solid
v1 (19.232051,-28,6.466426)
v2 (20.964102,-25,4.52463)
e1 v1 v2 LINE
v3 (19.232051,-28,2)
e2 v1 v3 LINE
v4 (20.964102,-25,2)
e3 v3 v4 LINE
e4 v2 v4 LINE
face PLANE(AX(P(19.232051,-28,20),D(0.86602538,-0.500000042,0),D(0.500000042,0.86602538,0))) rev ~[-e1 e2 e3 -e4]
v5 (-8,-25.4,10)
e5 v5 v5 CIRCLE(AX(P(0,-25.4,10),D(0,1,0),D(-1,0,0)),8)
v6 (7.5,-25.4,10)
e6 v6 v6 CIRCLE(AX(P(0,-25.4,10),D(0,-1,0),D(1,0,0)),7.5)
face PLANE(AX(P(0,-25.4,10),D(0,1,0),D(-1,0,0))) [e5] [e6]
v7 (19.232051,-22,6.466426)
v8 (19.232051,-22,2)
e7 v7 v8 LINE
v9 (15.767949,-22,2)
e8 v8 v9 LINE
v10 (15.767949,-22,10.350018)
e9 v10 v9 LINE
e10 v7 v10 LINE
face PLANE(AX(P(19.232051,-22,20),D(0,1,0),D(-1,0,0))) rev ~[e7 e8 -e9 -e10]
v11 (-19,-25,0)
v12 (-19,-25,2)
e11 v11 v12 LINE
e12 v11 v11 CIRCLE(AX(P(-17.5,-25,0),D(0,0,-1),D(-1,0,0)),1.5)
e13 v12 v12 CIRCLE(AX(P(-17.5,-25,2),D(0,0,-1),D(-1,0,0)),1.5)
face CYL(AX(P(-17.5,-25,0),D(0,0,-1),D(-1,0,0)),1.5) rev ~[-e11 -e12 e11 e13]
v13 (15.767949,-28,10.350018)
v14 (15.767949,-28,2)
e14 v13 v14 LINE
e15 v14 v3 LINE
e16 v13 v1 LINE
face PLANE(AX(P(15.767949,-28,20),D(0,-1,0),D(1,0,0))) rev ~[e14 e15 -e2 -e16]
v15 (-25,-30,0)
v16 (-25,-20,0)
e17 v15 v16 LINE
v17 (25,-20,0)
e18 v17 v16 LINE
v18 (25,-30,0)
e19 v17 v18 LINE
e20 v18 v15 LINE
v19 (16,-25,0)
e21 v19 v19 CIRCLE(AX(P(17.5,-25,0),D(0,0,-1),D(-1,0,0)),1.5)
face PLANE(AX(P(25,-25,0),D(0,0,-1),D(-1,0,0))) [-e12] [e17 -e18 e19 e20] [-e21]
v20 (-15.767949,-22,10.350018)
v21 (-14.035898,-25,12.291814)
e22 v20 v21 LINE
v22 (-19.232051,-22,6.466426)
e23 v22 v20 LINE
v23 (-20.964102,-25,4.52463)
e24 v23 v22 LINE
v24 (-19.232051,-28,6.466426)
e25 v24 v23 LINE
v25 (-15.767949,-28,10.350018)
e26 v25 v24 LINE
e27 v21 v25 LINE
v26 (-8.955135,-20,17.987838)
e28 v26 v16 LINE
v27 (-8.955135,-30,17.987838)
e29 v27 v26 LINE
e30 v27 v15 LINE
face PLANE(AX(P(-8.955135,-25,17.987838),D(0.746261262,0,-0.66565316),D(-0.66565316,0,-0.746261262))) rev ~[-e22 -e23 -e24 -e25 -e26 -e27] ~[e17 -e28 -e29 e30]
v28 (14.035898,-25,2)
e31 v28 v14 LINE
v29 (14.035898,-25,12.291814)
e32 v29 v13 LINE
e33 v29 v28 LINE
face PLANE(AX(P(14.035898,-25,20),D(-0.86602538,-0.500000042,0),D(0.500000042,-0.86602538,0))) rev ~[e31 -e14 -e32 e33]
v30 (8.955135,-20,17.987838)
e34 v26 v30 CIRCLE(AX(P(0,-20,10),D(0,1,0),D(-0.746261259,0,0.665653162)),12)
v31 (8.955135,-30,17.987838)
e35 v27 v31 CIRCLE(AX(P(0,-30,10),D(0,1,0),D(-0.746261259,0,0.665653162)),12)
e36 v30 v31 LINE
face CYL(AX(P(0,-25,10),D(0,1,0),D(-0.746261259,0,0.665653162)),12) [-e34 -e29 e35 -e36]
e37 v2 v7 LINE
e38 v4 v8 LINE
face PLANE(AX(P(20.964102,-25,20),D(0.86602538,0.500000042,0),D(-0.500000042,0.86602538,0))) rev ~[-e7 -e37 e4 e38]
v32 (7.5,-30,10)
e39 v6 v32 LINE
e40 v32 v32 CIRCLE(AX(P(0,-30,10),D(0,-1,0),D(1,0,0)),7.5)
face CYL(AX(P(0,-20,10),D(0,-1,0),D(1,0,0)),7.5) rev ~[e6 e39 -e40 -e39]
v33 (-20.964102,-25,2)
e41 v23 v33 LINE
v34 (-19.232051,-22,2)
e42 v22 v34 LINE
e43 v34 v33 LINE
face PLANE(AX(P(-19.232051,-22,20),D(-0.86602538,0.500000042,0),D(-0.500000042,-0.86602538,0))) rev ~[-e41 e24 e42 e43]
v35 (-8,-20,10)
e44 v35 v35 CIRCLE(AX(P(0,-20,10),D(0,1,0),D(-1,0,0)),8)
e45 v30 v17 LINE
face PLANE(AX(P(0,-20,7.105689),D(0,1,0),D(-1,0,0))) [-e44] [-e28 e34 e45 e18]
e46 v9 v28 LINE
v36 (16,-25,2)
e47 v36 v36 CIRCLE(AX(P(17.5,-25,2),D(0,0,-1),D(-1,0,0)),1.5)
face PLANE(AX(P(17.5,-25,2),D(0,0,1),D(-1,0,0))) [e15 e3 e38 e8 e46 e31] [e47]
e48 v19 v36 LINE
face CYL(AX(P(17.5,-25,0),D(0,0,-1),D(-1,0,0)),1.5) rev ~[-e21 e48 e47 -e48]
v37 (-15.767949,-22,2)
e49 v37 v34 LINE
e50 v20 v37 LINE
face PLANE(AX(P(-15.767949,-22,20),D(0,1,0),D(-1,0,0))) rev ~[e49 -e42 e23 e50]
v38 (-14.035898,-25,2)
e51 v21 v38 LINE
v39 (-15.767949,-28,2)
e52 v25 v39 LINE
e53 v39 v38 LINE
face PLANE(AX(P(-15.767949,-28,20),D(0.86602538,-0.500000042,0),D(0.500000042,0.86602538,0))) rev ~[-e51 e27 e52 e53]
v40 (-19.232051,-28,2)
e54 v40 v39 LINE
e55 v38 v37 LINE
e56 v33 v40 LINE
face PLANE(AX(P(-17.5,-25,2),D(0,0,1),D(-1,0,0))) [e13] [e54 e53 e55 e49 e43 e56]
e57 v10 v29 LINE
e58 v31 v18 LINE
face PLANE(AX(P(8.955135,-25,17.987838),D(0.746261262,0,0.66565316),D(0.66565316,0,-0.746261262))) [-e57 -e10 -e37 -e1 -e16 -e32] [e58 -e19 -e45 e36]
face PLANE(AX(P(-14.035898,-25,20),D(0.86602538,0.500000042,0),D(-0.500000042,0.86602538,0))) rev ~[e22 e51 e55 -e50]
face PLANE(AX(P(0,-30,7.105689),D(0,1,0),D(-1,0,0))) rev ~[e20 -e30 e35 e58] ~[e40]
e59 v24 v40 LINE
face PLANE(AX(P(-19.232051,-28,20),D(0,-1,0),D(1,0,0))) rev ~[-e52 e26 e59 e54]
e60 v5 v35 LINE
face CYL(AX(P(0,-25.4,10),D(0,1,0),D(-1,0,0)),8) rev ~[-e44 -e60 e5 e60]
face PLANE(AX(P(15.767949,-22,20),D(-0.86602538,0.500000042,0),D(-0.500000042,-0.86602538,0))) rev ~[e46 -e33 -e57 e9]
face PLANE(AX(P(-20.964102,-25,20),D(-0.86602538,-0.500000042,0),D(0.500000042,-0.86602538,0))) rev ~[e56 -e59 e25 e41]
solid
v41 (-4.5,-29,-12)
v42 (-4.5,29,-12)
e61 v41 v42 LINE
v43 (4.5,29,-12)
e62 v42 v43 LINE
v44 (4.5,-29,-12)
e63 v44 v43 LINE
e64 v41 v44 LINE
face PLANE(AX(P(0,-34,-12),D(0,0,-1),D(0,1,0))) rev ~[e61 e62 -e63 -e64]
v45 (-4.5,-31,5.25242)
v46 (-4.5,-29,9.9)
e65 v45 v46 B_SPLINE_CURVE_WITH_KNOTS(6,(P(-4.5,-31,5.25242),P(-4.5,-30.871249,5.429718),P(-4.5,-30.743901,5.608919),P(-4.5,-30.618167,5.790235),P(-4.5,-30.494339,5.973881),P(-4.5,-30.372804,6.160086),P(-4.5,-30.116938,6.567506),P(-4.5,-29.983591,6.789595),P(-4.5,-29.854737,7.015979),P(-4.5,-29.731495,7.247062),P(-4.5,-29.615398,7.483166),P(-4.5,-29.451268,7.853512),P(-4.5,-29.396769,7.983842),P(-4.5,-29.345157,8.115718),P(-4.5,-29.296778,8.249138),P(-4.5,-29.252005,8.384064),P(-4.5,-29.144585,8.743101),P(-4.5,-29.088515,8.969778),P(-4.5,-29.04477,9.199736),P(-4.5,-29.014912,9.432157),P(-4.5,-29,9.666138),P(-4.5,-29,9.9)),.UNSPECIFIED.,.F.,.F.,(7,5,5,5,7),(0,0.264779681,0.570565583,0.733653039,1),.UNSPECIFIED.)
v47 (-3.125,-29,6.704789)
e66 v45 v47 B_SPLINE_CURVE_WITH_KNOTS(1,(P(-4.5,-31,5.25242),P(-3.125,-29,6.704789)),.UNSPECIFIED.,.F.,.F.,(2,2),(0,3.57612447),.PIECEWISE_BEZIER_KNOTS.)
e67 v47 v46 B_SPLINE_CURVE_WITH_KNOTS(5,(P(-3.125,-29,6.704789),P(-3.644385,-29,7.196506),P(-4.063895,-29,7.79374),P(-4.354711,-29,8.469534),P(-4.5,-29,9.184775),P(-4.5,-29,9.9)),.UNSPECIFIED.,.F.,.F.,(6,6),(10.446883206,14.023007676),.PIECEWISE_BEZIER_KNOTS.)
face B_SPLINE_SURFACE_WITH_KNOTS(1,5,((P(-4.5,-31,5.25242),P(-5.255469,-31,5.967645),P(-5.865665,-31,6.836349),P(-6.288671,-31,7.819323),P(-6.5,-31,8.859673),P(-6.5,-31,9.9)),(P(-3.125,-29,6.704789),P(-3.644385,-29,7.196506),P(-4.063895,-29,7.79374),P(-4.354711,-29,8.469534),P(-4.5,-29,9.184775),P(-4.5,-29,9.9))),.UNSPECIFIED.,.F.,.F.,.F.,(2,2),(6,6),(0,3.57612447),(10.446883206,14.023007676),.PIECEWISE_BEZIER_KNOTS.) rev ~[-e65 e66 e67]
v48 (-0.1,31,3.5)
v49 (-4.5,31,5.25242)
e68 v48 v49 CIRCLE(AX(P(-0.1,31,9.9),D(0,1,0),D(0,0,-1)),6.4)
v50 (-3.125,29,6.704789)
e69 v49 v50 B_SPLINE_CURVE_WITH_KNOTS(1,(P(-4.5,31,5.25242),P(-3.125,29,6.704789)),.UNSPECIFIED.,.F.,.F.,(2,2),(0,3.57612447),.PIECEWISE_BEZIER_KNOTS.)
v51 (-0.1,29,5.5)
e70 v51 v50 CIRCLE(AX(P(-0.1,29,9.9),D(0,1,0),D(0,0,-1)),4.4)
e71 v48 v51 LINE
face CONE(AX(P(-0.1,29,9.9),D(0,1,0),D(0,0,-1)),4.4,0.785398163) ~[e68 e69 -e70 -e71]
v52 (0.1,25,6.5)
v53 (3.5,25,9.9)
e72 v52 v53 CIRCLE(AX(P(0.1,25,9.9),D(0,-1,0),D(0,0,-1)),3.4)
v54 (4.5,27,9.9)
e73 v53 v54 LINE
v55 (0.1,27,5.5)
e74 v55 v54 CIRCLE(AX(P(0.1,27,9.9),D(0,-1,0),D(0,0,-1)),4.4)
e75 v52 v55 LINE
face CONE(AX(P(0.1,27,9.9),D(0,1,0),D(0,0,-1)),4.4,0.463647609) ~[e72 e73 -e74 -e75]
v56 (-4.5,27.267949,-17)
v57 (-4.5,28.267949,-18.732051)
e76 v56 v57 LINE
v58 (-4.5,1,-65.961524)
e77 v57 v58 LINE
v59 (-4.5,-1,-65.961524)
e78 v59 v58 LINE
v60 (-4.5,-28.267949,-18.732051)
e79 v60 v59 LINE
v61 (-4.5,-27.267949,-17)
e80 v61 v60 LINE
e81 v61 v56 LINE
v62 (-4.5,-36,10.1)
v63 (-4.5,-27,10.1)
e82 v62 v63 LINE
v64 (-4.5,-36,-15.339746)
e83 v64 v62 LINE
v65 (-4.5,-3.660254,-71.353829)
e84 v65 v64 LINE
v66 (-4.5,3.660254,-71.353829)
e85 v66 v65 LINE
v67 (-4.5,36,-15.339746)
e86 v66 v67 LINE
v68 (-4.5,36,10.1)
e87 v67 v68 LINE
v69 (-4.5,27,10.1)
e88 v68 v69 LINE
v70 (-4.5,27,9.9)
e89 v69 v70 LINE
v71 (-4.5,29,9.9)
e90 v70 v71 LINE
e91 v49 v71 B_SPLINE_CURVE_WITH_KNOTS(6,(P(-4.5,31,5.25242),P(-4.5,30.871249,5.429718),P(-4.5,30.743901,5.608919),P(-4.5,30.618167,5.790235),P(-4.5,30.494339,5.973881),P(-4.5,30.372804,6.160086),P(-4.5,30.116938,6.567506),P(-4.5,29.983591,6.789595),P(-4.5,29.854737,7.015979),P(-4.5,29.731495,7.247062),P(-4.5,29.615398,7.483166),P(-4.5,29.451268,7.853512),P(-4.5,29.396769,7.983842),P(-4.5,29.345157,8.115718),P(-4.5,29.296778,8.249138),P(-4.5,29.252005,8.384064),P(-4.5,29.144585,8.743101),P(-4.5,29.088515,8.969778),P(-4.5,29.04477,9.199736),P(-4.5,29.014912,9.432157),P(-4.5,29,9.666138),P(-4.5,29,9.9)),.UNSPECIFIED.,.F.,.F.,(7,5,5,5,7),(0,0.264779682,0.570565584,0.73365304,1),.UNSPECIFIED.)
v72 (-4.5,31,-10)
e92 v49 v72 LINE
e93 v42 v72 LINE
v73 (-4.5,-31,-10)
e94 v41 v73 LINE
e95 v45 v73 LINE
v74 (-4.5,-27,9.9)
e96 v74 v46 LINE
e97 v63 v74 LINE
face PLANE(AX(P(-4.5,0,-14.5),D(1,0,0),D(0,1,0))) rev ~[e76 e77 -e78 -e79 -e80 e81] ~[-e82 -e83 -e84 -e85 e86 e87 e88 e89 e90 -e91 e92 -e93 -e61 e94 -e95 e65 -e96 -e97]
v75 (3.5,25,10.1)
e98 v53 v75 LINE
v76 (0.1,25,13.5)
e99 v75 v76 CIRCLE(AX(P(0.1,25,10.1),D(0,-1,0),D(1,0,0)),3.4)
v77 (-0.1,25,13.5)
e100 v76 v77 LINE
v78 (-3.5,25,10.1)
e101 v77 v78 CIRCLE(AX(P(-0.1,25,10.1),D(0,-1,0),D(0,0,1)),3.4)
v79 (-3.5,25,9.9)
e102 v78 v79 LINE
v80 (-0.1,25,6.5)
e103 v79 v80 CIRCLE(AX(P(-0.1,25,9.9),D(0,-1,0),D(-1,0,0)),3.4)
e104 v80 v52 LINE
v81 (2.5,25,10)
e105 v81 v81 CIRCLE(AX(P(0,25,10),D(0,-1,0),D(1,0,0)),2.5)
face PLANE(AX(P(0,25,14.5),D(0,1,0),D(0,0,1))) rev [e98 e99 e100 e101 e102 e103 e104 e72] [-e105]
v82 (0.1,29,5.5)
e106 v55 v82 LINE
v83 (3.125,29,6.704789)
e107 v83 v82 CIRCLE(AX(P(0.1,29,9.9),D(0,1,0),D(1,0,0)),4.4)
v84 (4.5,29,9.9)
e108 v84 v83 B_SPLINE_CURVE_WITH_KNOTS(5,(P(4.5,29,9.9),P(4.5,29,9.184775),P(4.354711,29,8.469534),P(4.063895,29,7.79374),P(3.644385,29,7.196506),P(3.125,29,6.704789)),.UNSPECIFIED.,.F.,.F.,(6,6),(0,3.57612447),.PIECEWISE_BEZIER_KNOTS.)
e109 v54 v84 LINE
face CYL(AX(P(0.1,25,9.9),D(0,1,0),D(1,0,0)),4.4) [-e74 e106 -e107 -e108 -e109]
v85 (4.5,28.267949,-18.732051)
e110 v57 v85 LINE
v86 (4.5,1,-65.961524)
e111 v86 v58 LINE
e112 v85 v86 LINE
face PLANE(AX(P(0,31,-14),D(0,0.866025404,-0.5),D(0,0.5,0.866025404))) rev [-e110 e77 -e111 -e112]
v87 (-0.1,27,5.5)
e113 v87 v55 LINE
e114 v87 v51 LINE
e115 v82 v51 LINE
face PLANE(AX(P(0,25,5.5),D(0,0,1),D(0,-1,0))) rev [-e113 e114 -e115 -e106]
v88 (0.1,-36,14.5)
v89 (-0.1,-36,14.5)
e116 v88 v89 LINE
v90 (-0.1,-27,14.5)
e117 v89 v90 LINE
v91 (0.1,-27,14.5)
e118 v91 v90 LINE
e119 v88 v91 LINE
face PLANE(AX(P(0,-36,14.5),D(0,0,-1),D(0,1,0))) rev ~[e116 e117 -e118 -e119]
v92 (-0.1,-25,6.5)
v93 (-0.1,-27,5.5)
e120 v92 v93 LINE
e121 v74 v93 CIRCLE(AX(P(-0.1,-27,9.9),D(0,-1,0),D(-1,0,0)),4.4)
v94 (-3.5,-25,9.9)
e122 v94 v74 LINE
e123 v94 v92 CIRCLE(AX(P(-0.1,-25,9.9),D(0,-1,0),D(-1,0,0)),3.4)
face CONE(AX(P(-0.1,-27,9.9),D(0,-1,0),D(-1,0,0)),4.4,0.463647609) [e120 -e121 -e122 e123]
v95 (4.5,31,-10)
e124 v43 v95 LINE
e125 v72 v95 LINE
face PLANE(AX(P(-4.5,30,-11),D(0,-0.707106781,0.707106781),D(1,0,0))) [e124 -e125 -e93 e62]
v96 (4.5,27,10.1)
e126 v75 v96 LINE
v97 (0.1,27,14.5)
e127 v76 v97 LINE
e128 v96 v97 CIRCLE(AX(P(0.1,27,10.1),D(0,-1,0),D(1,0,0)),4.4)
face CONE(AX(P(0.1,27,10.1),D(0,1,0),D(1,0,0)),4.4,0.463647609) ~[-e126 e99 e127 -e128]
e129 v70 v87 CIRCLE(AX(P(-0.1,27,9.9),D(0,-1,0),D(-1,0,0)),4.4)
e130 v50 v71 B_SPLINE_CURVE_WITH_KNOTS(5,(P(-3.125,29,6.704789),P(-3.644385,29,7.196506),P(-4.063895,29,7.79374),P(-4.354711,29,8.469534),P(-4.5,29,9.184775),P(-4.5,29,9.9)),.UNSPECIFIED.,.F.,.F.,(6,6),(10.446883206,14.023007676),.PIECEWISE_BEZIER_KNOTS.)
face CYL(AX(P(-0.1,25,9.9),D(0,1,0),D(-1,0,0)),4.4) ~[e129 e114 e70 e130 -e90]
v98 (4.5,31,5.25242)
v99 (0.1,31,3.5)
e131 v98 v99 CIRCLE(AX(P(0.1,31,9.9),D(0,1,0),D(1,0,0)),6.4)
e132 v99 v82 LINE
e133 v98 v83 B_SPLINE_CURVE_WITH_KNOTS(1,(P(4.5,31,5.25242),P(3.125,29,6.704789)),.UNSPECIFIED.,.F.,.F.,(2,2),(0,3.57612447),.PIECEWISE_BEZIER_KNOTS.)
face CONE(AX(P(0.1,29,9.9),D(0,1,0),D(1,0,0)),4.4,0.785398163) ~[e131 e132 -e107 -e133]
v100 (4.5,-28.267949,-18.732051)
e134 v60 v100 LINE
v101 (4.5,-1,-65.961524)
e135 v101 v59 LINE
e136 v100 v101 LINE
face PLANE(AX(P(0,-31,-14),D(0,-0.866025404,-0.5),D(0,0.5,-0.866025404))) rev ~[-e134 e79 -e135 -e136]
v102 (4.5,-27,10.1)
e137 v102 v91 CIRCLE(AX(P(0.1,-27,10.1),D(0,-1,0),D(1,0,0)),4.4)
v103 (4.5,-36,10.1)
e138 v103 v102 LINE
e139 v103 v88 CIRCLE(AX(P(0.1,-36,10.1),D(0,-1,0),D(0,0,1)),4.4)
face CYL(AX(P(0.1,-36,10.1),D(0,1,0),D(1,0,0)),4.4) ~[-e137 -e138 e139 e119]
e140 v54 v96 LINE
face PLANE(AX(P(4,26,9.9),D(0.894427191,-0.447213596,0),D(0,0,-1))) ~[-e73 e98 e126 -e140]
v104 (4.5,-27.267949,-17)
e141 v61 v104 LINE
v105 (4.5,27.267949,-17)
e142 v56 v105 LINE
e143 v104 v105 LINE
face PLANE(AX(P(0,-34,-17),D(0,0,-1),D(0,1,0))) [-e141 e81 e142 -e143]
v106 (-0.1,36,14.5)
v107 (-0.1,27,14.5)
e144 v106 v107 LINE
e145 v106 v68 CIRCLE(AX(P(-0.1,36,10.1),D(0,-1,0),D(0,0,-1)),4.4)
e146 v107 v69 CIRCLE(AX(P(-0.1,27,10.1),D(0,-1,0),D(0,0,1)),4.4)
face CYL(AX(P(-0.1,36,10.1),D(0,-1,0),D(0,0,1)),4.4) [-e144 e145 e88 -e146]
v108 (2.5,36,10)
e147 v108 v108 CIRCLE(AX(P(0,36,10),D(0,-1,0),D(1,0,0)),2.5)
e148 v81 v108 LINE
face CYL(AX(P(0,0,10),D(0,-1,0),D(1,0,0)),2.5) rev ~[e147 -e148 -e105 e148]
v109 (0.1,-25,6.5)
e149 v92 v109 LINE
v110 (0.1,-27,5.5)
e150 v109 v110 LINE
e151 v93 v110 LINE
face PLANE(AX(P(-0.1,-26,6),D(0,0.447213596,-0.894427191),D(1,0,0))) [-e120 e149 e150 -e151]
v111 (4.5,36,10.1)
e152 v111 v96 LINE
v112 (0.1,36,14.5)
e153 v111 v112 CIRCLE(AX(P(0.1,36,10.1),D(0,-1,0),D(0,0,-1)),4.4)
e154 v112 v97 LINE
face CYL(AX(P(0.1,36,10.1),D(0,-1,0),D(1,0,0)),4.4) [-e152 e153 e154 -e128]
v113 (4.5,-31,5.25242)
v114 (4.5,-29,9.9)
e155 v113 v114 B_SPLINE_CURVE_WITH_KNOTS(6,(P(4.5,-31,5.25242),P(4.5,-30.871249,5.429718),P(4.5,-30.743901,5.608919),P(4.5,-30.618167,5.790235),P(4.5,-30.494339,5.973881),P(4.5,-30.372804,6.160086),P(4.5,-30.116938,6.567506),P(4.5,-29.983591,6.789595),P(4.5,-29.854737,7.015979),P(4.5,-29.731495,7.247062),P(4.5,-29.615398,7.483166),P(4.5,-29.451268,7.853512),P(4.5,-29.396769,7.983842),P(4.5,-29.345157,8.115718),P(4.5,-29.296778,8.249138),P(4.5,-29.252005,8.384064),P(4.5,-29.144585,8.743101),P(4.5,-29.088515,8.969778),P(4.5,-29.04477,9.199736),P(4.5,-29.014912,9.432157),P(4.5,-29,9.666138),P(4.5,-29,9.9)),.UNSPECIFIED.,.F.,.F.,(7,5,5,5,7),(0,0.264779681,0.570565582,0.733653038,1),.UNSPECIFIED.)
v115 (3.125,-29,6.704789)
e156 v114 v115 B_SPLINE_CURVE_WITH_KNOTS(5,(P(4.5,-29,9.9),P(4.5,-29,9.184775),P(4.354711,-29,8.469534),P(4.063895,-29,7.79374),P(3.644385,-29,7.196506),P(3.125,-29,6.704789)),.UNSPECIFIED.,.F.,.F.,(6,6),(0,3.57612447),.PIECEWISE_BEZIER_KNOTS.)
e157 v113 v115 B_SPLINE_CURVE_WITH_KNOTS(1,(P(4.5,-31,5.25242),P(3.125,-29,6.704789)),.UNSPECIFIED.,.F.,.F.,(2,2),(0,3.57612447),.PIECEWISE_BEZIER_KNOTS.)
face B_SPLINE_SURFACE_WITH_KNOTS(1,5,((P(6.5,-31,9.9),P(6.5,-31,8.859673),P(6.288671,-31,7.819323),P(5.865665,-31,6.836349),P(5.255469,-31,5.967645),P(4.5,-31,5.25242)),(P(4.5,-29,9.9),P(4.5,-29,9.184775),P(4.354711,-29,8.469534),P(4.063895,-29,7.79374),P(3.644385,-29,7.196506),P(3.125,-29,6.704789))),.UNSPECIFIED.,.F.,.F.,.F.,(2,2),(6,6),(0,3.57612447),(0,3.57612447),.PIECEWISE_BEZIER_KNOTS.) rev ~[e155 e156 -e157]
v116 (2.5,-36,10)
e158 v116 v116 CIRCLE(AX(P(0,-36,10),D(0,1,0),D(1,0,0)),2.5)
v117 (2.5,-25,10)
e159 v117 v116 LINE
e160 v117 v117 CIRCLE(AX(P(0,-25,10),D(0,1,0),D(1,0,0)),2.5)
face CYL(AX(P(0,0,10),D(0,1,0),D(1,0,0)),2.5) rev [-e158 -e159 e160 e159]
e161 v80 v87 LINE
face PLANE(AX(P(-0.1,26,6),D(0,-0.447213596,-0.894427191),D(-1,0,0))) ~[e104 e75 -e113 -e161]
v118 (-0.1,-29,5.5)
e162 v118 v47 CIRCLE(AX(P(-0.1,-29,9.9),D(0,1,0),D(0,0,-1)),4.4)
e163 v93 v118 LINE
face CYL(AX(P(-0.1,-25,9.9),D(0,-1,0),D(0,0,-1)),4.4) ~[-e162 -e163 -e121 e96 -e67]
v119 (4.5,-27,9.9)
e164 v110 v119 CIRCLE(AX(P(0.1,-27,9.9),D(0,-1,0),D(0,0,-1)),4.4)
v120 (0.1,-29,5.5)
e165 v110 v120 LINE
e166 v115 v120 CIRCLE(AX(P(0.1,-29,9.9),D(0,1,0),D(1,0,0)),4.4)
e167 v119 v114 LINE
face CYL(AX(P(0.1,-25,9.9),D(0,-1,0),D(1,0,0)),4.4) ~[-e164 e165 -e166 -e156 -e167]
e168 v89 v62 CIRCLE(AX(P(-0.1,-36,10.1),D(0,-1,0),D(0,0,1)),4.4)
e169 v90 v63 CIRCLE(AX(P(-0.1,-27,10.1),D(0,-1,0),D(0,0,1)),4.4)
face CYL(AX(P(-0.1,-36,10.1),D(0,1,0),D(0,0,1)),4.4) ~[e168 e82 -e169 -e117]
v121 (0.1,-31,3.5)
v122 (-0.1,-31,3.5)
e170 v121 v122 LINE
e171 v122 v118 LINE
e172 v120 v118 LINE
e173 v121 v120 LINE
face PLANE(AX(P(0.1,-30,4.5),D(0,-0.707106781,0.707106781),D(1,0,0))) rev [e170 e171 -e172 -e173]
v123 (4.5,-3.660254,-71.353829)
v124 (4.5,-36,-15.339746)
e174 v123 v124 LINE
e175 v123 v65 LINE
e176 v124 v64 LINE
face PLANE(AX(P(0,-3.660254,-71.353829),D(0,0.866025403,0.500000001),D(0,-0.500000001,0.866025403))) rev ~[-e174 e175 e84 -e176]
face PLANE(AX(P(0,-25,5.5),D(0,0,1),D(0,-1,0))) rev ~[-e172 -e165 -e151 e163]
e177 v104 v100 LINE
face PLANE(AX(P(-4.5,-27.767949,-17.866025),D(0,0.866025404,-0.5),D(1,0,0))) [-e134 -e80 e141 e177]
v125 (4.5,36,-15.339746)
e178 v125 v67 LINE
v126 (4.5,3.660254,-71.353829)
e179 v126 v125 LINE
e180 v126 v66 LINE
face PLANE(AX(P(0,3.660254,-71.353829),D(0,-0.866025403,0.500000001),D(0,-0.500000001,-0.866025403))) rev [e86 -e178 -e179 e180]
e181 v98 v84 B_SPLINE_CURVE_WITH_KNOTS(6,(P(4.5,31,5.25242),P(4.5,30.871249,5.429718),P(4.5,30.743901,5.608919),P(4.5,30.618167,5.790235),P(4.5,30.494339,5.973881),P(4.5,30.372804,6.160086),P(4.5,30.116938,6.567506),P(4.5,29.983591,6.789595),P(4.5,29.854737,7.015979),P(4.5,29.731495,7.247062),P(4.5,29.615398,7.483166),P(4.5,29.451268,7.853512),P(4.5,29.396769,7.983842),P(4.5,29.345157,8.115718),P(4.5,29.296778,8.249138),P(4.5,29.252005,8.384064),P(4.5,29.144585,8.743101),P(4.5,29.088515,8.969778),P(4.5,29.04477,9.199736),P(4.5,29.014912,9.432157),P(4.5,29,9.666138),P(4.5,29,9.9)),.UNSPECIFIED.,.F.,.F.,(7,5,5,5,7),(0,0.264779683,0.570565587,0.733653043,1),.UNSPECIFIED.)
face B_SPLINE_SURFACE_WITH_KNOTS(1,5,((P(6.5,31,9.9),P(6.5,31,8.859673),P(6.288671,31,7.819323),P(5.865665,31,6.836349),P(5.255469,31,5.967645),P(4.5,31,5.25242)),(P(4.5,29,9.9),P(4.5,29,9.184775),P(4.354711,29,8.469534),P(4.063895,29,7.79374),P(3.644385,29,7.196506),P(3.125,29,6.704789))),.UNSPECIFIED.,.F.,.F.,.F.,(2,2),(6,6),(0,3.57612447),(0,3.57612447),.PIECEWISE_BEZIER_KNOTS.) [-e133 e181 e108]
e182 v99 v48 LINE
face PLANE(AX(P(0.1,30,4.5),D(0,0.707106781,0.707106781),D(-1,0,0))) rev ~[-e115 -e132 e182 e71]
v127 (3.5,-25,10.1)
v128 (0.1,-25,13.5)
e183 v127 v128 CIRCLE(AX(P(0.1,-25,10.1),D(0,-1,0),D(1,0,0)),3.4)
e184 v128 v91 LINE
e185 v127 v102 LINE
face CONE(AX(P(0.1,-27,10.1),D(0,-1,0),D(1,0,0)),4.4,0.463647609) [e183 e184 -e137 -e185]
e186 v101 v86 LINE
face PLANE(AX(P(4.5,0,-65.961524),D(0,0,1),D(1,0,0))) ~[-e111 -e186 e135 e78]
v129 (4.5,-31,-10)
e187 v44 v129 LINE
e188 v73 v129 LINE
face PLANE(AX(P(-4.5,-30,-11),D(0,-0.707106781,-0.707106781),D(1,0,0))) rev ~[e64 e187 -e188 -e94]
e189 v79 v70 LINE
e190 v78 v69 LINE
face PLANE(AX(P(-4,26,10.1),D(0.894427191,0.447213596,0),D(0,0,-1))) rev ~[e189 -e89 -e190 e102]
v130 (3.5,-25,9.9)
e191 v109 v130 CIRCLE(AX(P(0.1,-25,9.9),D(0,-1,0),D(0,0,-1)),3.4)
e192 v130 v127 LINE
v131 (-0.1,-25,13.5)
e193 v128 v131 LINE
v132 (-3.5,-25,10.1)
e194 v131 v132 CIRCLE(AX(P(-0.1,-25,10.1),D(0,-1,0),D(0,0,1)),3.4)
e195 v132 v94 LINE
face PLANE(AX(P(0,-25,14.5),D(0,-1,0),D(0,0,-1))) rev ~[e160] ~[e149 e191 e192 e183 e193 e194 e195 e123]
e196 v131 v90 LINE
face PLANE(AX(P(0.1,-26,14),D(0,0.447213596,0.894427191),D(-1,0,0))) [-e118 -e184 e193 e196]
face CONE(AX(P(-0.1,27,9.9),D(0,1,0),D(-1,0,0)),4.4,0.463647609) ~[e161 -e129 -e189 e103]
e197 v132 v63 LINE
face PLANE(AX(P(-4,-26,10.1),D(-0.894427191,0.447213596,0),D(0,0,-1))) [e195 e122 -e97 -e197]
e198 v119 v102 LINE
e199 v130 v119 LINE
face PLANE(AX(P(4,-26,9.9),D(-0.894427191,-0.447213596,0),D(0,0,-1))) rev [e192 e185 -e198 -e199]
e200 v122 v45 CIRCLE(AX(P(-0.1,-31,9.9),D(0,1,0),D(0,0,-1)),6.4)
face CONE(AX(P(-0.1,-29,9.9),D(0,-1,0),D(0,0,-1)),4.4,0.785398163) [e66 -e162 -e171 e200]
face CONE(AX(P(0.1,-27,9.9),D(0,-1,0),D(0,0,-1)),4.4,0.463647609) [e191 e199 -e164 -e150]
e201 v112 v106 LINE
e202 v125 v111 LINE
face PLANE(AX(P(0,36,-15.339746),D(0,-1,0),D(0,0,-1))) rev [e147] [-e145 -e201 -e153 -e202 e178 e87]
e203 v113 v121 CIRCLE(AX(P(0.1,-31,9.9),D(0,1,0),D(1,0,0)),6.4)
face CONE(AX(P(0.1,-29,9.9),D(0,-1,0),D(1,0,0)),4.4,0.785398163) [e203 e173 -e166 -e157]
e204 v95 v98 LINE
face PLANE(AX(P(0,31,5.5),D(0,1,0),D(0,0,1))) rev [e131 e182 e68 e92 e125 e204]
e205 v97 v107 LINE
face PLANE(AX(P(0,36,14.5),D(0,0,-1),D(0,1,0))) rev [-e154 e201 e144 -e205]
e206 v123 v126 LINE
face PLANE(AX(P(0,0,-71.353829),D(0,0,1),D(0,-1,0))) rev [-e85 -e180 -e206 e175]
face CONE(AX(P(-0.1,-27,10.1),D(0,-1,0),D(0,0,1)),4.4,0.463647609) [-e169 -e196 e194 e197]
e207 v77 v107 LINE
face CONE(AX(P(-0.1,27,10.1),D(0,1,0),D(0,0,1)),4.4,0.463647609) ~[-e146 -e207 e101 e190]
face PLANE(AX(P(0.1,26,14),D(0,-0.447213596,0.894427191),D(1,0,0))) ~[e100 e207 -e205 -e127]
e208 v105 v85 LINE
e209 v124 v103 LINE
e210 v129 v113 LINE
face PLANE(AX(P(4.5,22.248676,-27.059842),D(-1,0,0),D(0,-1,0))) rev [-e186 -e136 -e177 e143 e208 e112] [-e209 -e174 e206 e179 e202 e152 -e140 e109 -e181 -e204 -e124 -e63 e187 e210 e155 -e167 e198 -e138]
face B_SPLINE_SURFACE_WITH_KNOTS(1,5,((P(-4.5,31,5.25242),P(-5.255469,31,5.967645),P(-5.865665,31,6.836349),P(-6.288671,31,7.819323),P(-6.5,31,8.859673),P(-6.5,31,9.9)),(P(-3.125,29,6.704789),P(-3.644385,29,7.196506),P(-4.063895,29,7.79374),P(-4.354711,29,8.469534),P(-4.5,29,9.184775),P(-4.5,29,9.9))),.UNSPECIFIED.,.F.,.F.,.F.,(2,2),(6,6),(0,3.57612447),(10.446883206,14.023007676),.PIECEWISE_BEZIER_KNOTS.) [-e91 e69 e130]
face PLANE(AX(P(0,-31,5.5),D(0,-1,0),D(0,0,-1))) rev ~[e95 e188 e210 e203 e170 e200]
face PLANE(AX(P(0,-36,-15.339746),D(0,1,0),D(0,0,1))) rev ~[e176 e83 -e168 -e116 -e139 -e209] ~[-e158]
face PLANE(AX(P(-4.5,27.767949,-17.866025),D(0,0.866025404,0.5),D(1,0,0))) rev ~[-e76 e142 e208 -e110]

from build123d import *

# Parameters (mm, degrees)
PAD_DEPTH               = 5
HOLE_D                  = 15
HOLE_CBORE_D            = 16
HOLE_CBORE_DEPTH        = 5.4
SKETCH002_R             = 1.5
HOLE001_DEPTH           = 25
POCKET_DEPTH            = 18
BODY001_PLACEMENT_ANGLE = 180
PAD001_DEPTH            = 4.5
FILLET_R                = 4.4
CHAMFER_1_SIZE2         = 2
CHAMFER_1_SIZE          = 1
CHAMFER_2_SIZE2         = 2
CHAMFER_2_SIZE          = 1
CHAMFER001_SIZE         = 2
SKETCH005_W             = 68
SKETCH005_H             = 5
PAD002_DEPTH            = 4.5
SKETCH006_R             = 2.5
POCKET001_DEPTH         = 36.001
POCKET001_DEPTH_BACK    = 36.001
CHAMFER002_SIZE         = 2
CHAMFER003_SIZE         = 2
CHAMFER004_SIZE         = 2


with BuildPart() as body001:
    # Sketch → Pad (new body, symmetric)
    with BuildSketch(Plane.XZ):
        with BuildLine():
            Line((-25, 0), (25, 0))
            Line((8.955135, 17.987838), (25, 0))
            ThreePointArc((8.955135, 17.987838), (0, 22), (-8.955135, 17.987838))
            Line((-8.955135, 17.987838), (-25, 0))
        make_face()
    extrude(amount=PAD_DEPTH, both=True)

    # Hole (through all)
    with Locations(Plane.XZ.offset(5)):
        with Locations((0, 10)):
            CounterBoreHole(HOLE_D / 2, HOLE_CBORE_D / 2, HOLE_CBORE_DEPTH)

    # Sketch002 (on Face6 of Hole) → Hole001 (cut)
    with BuildSketch(Plane(origin=(0, 0, 0), x_dir=(1, 0, 0), z_dir=(0, 0, -1))):
        with Locations((-17.5, 0)):
            Circle(SKETCH002_R)
        with Locations((17.5, 0)):
            Circle(SKETCH002_R)
    extrude(amount=-HOLE001_DEPTH, mode=Mode.SUBTRACT)

    # Sketch003 → Pocket (cut)
    with BuildSketch(Plane.XY.offset(20)):
        Polygon((-15.767949, 3), (-19.232051, 3), (-20.964102, 0), (-19.232051, -3), (-15.767949, -3), (-14.035898, 0), align=None)
        Polygon((15.767949, 3), (14.035898, 0), (15.767949, -3), (19.232051, -3), (20.964102, 0), (19.232051, 3), align=None)
    extrude(amount=-POCKET_DEPTH, mode=Mode.SUBTRACT)


with BuildPart() as body001_1:
    # Body placement: moved
    add(body001.part.moved(Location((0, 25, 0))))


with BuildPart() as body001_2:
    # Clone placement: moved
    add(body001_1.part.moved(Location((0, -25, 0))))


with BuildPart() as body001_3:
    # Body001 placement: moved
    add(body001_2.part.moved(Location((0, -25, 0))).rotate(Axis((0, -25, 0), (0, 0, 1)), BODY001_PLACEMENT_ANGLE))


with BuildPart() as body002:
    # Sketch004 → Pad001 (new body, symmetric)
    with BuildSketch(Plane.YZ):
        Polygon((-31, 5.5), (-31, -14), (0, -67.693575), (0, -71.353829), (-3.660254, -71.353829), (-36, -15.339746), (-36, 14.5), (-25, 14.5), (-25, 5.5), align=None)
    pad001 = extrude(amount=PAD001_DEPTH, both=True)

    # Mirrored: Pad001 across Sketch004 V_Axis
    add(pad001.mirror(Plane(origin=(0, 0, 0), x_dir=(1, 0, 0), z_dir=(0, 1, 0))))

    # Fillet
    fillet_edges = [body002.edges().sort_by_distance(p)[0] for p in [
        (-4.5, 28, 5.5),
        (-4.5, 30.5, 14.5),
        (4.5, 28, 5.5),
        (-4.5, -28, 5.5),
        (-4.5, -30.5, 14.5),
        (4.5, -30.5, 14.5),
        (4.5, 30.5, 14.5),
        (4.5, -28, 5.5),
    ]]
    fillet(fillet_edges, radius=FILLET_R)

    # Chamfer 1
    chamfer_1_edges = [body002.edges().sort_by_distance(p)[0] for p in [
        (-3.21127, 25, 13.21127),
    ]]
    chamfer_1_side = body002.faces().sort_by_distance((0, 25, 10))[0]
    chamfer(chamfer_1_edges, length=CHAMFER_1_SIZE, length2=CHAMFER_1_SIZE2, reference=chamfer_1_side)

    # Chamfer 2
    chamfer_2_edges = [body002.edges().sort_by_distance(p)[0] for p in [
        (-3.21127, -25, 13.21127),
    ]]
    chamfer_2_side = body002.faces().sort_by_distance((0, -25, 10))[0]
    chamfer(chamfer_2_edges, length=CHAMFER_2_SIZE, length2=CHAMFER_2_SIZE2, reference=chamfer_2_side)

    # Chamfer001
    chamfer001_edges = [body002.edges().sort_by_distance(p)[0] for p in [
        (0, 0, -67.693575),
    ]]
    chamfer(chamfer001_edges, length=CHAMFER001_SIZE)

    # Sketch005 → Pad002 (join, symmetric)
    with BuildSketch(Plane.YZ):
        with Locations((0, -14.5)):
            Rectangle(SKETCH005_W, SKETCH005_H)
    extrude(amount=PAD002_DEPTH, both=True)

    # Sketch006 → Pocket001 (cut, two sides)
    with BuildSketch(Plane.XZ) as pocket001_sk:
        with Locations((0, 10)):
            Circle(SKETCH006_R)
    extrude(amount=-POCKET001_DEPTH, mode=Mode.SUBTRACT)
    extrude(pocket001_sk.sketch, amount=POCKET001_DEPTH_BACK, mode=Mode.SUBTRACT)

    # Chamfer002
    chamfer002_edges = [body002.edges().sort_by_distance(p)[0] for p in [
        (0, -29.267949, -17),
        (0, 29.267949, -17),
        (0, 31, -12),
        (0, -31, -12),
    ]]
    chamfer(chamfer002_edges, length=CHAMFER002_SIZE)

    # Chamfer003
    chamfer003_edges = [body002.edges().sort_by_distance(p)[0] for p in [
        (-3.21127, -31, 6.78873),
    ]]
    chamfer(chamfer003_edges, length=CHAMFER003_SIZE)

    # Chamfer004
    chamfer004_edges = [body002.edges().sort_by_distance(p)[0] for p in [
        (3.21127, 31, 6.78873),
    ]]
    chamfer(chamfer004_edges, length=CHAMFER004_SIZE)


solid = Compound([body001_3.part, body002.part])
